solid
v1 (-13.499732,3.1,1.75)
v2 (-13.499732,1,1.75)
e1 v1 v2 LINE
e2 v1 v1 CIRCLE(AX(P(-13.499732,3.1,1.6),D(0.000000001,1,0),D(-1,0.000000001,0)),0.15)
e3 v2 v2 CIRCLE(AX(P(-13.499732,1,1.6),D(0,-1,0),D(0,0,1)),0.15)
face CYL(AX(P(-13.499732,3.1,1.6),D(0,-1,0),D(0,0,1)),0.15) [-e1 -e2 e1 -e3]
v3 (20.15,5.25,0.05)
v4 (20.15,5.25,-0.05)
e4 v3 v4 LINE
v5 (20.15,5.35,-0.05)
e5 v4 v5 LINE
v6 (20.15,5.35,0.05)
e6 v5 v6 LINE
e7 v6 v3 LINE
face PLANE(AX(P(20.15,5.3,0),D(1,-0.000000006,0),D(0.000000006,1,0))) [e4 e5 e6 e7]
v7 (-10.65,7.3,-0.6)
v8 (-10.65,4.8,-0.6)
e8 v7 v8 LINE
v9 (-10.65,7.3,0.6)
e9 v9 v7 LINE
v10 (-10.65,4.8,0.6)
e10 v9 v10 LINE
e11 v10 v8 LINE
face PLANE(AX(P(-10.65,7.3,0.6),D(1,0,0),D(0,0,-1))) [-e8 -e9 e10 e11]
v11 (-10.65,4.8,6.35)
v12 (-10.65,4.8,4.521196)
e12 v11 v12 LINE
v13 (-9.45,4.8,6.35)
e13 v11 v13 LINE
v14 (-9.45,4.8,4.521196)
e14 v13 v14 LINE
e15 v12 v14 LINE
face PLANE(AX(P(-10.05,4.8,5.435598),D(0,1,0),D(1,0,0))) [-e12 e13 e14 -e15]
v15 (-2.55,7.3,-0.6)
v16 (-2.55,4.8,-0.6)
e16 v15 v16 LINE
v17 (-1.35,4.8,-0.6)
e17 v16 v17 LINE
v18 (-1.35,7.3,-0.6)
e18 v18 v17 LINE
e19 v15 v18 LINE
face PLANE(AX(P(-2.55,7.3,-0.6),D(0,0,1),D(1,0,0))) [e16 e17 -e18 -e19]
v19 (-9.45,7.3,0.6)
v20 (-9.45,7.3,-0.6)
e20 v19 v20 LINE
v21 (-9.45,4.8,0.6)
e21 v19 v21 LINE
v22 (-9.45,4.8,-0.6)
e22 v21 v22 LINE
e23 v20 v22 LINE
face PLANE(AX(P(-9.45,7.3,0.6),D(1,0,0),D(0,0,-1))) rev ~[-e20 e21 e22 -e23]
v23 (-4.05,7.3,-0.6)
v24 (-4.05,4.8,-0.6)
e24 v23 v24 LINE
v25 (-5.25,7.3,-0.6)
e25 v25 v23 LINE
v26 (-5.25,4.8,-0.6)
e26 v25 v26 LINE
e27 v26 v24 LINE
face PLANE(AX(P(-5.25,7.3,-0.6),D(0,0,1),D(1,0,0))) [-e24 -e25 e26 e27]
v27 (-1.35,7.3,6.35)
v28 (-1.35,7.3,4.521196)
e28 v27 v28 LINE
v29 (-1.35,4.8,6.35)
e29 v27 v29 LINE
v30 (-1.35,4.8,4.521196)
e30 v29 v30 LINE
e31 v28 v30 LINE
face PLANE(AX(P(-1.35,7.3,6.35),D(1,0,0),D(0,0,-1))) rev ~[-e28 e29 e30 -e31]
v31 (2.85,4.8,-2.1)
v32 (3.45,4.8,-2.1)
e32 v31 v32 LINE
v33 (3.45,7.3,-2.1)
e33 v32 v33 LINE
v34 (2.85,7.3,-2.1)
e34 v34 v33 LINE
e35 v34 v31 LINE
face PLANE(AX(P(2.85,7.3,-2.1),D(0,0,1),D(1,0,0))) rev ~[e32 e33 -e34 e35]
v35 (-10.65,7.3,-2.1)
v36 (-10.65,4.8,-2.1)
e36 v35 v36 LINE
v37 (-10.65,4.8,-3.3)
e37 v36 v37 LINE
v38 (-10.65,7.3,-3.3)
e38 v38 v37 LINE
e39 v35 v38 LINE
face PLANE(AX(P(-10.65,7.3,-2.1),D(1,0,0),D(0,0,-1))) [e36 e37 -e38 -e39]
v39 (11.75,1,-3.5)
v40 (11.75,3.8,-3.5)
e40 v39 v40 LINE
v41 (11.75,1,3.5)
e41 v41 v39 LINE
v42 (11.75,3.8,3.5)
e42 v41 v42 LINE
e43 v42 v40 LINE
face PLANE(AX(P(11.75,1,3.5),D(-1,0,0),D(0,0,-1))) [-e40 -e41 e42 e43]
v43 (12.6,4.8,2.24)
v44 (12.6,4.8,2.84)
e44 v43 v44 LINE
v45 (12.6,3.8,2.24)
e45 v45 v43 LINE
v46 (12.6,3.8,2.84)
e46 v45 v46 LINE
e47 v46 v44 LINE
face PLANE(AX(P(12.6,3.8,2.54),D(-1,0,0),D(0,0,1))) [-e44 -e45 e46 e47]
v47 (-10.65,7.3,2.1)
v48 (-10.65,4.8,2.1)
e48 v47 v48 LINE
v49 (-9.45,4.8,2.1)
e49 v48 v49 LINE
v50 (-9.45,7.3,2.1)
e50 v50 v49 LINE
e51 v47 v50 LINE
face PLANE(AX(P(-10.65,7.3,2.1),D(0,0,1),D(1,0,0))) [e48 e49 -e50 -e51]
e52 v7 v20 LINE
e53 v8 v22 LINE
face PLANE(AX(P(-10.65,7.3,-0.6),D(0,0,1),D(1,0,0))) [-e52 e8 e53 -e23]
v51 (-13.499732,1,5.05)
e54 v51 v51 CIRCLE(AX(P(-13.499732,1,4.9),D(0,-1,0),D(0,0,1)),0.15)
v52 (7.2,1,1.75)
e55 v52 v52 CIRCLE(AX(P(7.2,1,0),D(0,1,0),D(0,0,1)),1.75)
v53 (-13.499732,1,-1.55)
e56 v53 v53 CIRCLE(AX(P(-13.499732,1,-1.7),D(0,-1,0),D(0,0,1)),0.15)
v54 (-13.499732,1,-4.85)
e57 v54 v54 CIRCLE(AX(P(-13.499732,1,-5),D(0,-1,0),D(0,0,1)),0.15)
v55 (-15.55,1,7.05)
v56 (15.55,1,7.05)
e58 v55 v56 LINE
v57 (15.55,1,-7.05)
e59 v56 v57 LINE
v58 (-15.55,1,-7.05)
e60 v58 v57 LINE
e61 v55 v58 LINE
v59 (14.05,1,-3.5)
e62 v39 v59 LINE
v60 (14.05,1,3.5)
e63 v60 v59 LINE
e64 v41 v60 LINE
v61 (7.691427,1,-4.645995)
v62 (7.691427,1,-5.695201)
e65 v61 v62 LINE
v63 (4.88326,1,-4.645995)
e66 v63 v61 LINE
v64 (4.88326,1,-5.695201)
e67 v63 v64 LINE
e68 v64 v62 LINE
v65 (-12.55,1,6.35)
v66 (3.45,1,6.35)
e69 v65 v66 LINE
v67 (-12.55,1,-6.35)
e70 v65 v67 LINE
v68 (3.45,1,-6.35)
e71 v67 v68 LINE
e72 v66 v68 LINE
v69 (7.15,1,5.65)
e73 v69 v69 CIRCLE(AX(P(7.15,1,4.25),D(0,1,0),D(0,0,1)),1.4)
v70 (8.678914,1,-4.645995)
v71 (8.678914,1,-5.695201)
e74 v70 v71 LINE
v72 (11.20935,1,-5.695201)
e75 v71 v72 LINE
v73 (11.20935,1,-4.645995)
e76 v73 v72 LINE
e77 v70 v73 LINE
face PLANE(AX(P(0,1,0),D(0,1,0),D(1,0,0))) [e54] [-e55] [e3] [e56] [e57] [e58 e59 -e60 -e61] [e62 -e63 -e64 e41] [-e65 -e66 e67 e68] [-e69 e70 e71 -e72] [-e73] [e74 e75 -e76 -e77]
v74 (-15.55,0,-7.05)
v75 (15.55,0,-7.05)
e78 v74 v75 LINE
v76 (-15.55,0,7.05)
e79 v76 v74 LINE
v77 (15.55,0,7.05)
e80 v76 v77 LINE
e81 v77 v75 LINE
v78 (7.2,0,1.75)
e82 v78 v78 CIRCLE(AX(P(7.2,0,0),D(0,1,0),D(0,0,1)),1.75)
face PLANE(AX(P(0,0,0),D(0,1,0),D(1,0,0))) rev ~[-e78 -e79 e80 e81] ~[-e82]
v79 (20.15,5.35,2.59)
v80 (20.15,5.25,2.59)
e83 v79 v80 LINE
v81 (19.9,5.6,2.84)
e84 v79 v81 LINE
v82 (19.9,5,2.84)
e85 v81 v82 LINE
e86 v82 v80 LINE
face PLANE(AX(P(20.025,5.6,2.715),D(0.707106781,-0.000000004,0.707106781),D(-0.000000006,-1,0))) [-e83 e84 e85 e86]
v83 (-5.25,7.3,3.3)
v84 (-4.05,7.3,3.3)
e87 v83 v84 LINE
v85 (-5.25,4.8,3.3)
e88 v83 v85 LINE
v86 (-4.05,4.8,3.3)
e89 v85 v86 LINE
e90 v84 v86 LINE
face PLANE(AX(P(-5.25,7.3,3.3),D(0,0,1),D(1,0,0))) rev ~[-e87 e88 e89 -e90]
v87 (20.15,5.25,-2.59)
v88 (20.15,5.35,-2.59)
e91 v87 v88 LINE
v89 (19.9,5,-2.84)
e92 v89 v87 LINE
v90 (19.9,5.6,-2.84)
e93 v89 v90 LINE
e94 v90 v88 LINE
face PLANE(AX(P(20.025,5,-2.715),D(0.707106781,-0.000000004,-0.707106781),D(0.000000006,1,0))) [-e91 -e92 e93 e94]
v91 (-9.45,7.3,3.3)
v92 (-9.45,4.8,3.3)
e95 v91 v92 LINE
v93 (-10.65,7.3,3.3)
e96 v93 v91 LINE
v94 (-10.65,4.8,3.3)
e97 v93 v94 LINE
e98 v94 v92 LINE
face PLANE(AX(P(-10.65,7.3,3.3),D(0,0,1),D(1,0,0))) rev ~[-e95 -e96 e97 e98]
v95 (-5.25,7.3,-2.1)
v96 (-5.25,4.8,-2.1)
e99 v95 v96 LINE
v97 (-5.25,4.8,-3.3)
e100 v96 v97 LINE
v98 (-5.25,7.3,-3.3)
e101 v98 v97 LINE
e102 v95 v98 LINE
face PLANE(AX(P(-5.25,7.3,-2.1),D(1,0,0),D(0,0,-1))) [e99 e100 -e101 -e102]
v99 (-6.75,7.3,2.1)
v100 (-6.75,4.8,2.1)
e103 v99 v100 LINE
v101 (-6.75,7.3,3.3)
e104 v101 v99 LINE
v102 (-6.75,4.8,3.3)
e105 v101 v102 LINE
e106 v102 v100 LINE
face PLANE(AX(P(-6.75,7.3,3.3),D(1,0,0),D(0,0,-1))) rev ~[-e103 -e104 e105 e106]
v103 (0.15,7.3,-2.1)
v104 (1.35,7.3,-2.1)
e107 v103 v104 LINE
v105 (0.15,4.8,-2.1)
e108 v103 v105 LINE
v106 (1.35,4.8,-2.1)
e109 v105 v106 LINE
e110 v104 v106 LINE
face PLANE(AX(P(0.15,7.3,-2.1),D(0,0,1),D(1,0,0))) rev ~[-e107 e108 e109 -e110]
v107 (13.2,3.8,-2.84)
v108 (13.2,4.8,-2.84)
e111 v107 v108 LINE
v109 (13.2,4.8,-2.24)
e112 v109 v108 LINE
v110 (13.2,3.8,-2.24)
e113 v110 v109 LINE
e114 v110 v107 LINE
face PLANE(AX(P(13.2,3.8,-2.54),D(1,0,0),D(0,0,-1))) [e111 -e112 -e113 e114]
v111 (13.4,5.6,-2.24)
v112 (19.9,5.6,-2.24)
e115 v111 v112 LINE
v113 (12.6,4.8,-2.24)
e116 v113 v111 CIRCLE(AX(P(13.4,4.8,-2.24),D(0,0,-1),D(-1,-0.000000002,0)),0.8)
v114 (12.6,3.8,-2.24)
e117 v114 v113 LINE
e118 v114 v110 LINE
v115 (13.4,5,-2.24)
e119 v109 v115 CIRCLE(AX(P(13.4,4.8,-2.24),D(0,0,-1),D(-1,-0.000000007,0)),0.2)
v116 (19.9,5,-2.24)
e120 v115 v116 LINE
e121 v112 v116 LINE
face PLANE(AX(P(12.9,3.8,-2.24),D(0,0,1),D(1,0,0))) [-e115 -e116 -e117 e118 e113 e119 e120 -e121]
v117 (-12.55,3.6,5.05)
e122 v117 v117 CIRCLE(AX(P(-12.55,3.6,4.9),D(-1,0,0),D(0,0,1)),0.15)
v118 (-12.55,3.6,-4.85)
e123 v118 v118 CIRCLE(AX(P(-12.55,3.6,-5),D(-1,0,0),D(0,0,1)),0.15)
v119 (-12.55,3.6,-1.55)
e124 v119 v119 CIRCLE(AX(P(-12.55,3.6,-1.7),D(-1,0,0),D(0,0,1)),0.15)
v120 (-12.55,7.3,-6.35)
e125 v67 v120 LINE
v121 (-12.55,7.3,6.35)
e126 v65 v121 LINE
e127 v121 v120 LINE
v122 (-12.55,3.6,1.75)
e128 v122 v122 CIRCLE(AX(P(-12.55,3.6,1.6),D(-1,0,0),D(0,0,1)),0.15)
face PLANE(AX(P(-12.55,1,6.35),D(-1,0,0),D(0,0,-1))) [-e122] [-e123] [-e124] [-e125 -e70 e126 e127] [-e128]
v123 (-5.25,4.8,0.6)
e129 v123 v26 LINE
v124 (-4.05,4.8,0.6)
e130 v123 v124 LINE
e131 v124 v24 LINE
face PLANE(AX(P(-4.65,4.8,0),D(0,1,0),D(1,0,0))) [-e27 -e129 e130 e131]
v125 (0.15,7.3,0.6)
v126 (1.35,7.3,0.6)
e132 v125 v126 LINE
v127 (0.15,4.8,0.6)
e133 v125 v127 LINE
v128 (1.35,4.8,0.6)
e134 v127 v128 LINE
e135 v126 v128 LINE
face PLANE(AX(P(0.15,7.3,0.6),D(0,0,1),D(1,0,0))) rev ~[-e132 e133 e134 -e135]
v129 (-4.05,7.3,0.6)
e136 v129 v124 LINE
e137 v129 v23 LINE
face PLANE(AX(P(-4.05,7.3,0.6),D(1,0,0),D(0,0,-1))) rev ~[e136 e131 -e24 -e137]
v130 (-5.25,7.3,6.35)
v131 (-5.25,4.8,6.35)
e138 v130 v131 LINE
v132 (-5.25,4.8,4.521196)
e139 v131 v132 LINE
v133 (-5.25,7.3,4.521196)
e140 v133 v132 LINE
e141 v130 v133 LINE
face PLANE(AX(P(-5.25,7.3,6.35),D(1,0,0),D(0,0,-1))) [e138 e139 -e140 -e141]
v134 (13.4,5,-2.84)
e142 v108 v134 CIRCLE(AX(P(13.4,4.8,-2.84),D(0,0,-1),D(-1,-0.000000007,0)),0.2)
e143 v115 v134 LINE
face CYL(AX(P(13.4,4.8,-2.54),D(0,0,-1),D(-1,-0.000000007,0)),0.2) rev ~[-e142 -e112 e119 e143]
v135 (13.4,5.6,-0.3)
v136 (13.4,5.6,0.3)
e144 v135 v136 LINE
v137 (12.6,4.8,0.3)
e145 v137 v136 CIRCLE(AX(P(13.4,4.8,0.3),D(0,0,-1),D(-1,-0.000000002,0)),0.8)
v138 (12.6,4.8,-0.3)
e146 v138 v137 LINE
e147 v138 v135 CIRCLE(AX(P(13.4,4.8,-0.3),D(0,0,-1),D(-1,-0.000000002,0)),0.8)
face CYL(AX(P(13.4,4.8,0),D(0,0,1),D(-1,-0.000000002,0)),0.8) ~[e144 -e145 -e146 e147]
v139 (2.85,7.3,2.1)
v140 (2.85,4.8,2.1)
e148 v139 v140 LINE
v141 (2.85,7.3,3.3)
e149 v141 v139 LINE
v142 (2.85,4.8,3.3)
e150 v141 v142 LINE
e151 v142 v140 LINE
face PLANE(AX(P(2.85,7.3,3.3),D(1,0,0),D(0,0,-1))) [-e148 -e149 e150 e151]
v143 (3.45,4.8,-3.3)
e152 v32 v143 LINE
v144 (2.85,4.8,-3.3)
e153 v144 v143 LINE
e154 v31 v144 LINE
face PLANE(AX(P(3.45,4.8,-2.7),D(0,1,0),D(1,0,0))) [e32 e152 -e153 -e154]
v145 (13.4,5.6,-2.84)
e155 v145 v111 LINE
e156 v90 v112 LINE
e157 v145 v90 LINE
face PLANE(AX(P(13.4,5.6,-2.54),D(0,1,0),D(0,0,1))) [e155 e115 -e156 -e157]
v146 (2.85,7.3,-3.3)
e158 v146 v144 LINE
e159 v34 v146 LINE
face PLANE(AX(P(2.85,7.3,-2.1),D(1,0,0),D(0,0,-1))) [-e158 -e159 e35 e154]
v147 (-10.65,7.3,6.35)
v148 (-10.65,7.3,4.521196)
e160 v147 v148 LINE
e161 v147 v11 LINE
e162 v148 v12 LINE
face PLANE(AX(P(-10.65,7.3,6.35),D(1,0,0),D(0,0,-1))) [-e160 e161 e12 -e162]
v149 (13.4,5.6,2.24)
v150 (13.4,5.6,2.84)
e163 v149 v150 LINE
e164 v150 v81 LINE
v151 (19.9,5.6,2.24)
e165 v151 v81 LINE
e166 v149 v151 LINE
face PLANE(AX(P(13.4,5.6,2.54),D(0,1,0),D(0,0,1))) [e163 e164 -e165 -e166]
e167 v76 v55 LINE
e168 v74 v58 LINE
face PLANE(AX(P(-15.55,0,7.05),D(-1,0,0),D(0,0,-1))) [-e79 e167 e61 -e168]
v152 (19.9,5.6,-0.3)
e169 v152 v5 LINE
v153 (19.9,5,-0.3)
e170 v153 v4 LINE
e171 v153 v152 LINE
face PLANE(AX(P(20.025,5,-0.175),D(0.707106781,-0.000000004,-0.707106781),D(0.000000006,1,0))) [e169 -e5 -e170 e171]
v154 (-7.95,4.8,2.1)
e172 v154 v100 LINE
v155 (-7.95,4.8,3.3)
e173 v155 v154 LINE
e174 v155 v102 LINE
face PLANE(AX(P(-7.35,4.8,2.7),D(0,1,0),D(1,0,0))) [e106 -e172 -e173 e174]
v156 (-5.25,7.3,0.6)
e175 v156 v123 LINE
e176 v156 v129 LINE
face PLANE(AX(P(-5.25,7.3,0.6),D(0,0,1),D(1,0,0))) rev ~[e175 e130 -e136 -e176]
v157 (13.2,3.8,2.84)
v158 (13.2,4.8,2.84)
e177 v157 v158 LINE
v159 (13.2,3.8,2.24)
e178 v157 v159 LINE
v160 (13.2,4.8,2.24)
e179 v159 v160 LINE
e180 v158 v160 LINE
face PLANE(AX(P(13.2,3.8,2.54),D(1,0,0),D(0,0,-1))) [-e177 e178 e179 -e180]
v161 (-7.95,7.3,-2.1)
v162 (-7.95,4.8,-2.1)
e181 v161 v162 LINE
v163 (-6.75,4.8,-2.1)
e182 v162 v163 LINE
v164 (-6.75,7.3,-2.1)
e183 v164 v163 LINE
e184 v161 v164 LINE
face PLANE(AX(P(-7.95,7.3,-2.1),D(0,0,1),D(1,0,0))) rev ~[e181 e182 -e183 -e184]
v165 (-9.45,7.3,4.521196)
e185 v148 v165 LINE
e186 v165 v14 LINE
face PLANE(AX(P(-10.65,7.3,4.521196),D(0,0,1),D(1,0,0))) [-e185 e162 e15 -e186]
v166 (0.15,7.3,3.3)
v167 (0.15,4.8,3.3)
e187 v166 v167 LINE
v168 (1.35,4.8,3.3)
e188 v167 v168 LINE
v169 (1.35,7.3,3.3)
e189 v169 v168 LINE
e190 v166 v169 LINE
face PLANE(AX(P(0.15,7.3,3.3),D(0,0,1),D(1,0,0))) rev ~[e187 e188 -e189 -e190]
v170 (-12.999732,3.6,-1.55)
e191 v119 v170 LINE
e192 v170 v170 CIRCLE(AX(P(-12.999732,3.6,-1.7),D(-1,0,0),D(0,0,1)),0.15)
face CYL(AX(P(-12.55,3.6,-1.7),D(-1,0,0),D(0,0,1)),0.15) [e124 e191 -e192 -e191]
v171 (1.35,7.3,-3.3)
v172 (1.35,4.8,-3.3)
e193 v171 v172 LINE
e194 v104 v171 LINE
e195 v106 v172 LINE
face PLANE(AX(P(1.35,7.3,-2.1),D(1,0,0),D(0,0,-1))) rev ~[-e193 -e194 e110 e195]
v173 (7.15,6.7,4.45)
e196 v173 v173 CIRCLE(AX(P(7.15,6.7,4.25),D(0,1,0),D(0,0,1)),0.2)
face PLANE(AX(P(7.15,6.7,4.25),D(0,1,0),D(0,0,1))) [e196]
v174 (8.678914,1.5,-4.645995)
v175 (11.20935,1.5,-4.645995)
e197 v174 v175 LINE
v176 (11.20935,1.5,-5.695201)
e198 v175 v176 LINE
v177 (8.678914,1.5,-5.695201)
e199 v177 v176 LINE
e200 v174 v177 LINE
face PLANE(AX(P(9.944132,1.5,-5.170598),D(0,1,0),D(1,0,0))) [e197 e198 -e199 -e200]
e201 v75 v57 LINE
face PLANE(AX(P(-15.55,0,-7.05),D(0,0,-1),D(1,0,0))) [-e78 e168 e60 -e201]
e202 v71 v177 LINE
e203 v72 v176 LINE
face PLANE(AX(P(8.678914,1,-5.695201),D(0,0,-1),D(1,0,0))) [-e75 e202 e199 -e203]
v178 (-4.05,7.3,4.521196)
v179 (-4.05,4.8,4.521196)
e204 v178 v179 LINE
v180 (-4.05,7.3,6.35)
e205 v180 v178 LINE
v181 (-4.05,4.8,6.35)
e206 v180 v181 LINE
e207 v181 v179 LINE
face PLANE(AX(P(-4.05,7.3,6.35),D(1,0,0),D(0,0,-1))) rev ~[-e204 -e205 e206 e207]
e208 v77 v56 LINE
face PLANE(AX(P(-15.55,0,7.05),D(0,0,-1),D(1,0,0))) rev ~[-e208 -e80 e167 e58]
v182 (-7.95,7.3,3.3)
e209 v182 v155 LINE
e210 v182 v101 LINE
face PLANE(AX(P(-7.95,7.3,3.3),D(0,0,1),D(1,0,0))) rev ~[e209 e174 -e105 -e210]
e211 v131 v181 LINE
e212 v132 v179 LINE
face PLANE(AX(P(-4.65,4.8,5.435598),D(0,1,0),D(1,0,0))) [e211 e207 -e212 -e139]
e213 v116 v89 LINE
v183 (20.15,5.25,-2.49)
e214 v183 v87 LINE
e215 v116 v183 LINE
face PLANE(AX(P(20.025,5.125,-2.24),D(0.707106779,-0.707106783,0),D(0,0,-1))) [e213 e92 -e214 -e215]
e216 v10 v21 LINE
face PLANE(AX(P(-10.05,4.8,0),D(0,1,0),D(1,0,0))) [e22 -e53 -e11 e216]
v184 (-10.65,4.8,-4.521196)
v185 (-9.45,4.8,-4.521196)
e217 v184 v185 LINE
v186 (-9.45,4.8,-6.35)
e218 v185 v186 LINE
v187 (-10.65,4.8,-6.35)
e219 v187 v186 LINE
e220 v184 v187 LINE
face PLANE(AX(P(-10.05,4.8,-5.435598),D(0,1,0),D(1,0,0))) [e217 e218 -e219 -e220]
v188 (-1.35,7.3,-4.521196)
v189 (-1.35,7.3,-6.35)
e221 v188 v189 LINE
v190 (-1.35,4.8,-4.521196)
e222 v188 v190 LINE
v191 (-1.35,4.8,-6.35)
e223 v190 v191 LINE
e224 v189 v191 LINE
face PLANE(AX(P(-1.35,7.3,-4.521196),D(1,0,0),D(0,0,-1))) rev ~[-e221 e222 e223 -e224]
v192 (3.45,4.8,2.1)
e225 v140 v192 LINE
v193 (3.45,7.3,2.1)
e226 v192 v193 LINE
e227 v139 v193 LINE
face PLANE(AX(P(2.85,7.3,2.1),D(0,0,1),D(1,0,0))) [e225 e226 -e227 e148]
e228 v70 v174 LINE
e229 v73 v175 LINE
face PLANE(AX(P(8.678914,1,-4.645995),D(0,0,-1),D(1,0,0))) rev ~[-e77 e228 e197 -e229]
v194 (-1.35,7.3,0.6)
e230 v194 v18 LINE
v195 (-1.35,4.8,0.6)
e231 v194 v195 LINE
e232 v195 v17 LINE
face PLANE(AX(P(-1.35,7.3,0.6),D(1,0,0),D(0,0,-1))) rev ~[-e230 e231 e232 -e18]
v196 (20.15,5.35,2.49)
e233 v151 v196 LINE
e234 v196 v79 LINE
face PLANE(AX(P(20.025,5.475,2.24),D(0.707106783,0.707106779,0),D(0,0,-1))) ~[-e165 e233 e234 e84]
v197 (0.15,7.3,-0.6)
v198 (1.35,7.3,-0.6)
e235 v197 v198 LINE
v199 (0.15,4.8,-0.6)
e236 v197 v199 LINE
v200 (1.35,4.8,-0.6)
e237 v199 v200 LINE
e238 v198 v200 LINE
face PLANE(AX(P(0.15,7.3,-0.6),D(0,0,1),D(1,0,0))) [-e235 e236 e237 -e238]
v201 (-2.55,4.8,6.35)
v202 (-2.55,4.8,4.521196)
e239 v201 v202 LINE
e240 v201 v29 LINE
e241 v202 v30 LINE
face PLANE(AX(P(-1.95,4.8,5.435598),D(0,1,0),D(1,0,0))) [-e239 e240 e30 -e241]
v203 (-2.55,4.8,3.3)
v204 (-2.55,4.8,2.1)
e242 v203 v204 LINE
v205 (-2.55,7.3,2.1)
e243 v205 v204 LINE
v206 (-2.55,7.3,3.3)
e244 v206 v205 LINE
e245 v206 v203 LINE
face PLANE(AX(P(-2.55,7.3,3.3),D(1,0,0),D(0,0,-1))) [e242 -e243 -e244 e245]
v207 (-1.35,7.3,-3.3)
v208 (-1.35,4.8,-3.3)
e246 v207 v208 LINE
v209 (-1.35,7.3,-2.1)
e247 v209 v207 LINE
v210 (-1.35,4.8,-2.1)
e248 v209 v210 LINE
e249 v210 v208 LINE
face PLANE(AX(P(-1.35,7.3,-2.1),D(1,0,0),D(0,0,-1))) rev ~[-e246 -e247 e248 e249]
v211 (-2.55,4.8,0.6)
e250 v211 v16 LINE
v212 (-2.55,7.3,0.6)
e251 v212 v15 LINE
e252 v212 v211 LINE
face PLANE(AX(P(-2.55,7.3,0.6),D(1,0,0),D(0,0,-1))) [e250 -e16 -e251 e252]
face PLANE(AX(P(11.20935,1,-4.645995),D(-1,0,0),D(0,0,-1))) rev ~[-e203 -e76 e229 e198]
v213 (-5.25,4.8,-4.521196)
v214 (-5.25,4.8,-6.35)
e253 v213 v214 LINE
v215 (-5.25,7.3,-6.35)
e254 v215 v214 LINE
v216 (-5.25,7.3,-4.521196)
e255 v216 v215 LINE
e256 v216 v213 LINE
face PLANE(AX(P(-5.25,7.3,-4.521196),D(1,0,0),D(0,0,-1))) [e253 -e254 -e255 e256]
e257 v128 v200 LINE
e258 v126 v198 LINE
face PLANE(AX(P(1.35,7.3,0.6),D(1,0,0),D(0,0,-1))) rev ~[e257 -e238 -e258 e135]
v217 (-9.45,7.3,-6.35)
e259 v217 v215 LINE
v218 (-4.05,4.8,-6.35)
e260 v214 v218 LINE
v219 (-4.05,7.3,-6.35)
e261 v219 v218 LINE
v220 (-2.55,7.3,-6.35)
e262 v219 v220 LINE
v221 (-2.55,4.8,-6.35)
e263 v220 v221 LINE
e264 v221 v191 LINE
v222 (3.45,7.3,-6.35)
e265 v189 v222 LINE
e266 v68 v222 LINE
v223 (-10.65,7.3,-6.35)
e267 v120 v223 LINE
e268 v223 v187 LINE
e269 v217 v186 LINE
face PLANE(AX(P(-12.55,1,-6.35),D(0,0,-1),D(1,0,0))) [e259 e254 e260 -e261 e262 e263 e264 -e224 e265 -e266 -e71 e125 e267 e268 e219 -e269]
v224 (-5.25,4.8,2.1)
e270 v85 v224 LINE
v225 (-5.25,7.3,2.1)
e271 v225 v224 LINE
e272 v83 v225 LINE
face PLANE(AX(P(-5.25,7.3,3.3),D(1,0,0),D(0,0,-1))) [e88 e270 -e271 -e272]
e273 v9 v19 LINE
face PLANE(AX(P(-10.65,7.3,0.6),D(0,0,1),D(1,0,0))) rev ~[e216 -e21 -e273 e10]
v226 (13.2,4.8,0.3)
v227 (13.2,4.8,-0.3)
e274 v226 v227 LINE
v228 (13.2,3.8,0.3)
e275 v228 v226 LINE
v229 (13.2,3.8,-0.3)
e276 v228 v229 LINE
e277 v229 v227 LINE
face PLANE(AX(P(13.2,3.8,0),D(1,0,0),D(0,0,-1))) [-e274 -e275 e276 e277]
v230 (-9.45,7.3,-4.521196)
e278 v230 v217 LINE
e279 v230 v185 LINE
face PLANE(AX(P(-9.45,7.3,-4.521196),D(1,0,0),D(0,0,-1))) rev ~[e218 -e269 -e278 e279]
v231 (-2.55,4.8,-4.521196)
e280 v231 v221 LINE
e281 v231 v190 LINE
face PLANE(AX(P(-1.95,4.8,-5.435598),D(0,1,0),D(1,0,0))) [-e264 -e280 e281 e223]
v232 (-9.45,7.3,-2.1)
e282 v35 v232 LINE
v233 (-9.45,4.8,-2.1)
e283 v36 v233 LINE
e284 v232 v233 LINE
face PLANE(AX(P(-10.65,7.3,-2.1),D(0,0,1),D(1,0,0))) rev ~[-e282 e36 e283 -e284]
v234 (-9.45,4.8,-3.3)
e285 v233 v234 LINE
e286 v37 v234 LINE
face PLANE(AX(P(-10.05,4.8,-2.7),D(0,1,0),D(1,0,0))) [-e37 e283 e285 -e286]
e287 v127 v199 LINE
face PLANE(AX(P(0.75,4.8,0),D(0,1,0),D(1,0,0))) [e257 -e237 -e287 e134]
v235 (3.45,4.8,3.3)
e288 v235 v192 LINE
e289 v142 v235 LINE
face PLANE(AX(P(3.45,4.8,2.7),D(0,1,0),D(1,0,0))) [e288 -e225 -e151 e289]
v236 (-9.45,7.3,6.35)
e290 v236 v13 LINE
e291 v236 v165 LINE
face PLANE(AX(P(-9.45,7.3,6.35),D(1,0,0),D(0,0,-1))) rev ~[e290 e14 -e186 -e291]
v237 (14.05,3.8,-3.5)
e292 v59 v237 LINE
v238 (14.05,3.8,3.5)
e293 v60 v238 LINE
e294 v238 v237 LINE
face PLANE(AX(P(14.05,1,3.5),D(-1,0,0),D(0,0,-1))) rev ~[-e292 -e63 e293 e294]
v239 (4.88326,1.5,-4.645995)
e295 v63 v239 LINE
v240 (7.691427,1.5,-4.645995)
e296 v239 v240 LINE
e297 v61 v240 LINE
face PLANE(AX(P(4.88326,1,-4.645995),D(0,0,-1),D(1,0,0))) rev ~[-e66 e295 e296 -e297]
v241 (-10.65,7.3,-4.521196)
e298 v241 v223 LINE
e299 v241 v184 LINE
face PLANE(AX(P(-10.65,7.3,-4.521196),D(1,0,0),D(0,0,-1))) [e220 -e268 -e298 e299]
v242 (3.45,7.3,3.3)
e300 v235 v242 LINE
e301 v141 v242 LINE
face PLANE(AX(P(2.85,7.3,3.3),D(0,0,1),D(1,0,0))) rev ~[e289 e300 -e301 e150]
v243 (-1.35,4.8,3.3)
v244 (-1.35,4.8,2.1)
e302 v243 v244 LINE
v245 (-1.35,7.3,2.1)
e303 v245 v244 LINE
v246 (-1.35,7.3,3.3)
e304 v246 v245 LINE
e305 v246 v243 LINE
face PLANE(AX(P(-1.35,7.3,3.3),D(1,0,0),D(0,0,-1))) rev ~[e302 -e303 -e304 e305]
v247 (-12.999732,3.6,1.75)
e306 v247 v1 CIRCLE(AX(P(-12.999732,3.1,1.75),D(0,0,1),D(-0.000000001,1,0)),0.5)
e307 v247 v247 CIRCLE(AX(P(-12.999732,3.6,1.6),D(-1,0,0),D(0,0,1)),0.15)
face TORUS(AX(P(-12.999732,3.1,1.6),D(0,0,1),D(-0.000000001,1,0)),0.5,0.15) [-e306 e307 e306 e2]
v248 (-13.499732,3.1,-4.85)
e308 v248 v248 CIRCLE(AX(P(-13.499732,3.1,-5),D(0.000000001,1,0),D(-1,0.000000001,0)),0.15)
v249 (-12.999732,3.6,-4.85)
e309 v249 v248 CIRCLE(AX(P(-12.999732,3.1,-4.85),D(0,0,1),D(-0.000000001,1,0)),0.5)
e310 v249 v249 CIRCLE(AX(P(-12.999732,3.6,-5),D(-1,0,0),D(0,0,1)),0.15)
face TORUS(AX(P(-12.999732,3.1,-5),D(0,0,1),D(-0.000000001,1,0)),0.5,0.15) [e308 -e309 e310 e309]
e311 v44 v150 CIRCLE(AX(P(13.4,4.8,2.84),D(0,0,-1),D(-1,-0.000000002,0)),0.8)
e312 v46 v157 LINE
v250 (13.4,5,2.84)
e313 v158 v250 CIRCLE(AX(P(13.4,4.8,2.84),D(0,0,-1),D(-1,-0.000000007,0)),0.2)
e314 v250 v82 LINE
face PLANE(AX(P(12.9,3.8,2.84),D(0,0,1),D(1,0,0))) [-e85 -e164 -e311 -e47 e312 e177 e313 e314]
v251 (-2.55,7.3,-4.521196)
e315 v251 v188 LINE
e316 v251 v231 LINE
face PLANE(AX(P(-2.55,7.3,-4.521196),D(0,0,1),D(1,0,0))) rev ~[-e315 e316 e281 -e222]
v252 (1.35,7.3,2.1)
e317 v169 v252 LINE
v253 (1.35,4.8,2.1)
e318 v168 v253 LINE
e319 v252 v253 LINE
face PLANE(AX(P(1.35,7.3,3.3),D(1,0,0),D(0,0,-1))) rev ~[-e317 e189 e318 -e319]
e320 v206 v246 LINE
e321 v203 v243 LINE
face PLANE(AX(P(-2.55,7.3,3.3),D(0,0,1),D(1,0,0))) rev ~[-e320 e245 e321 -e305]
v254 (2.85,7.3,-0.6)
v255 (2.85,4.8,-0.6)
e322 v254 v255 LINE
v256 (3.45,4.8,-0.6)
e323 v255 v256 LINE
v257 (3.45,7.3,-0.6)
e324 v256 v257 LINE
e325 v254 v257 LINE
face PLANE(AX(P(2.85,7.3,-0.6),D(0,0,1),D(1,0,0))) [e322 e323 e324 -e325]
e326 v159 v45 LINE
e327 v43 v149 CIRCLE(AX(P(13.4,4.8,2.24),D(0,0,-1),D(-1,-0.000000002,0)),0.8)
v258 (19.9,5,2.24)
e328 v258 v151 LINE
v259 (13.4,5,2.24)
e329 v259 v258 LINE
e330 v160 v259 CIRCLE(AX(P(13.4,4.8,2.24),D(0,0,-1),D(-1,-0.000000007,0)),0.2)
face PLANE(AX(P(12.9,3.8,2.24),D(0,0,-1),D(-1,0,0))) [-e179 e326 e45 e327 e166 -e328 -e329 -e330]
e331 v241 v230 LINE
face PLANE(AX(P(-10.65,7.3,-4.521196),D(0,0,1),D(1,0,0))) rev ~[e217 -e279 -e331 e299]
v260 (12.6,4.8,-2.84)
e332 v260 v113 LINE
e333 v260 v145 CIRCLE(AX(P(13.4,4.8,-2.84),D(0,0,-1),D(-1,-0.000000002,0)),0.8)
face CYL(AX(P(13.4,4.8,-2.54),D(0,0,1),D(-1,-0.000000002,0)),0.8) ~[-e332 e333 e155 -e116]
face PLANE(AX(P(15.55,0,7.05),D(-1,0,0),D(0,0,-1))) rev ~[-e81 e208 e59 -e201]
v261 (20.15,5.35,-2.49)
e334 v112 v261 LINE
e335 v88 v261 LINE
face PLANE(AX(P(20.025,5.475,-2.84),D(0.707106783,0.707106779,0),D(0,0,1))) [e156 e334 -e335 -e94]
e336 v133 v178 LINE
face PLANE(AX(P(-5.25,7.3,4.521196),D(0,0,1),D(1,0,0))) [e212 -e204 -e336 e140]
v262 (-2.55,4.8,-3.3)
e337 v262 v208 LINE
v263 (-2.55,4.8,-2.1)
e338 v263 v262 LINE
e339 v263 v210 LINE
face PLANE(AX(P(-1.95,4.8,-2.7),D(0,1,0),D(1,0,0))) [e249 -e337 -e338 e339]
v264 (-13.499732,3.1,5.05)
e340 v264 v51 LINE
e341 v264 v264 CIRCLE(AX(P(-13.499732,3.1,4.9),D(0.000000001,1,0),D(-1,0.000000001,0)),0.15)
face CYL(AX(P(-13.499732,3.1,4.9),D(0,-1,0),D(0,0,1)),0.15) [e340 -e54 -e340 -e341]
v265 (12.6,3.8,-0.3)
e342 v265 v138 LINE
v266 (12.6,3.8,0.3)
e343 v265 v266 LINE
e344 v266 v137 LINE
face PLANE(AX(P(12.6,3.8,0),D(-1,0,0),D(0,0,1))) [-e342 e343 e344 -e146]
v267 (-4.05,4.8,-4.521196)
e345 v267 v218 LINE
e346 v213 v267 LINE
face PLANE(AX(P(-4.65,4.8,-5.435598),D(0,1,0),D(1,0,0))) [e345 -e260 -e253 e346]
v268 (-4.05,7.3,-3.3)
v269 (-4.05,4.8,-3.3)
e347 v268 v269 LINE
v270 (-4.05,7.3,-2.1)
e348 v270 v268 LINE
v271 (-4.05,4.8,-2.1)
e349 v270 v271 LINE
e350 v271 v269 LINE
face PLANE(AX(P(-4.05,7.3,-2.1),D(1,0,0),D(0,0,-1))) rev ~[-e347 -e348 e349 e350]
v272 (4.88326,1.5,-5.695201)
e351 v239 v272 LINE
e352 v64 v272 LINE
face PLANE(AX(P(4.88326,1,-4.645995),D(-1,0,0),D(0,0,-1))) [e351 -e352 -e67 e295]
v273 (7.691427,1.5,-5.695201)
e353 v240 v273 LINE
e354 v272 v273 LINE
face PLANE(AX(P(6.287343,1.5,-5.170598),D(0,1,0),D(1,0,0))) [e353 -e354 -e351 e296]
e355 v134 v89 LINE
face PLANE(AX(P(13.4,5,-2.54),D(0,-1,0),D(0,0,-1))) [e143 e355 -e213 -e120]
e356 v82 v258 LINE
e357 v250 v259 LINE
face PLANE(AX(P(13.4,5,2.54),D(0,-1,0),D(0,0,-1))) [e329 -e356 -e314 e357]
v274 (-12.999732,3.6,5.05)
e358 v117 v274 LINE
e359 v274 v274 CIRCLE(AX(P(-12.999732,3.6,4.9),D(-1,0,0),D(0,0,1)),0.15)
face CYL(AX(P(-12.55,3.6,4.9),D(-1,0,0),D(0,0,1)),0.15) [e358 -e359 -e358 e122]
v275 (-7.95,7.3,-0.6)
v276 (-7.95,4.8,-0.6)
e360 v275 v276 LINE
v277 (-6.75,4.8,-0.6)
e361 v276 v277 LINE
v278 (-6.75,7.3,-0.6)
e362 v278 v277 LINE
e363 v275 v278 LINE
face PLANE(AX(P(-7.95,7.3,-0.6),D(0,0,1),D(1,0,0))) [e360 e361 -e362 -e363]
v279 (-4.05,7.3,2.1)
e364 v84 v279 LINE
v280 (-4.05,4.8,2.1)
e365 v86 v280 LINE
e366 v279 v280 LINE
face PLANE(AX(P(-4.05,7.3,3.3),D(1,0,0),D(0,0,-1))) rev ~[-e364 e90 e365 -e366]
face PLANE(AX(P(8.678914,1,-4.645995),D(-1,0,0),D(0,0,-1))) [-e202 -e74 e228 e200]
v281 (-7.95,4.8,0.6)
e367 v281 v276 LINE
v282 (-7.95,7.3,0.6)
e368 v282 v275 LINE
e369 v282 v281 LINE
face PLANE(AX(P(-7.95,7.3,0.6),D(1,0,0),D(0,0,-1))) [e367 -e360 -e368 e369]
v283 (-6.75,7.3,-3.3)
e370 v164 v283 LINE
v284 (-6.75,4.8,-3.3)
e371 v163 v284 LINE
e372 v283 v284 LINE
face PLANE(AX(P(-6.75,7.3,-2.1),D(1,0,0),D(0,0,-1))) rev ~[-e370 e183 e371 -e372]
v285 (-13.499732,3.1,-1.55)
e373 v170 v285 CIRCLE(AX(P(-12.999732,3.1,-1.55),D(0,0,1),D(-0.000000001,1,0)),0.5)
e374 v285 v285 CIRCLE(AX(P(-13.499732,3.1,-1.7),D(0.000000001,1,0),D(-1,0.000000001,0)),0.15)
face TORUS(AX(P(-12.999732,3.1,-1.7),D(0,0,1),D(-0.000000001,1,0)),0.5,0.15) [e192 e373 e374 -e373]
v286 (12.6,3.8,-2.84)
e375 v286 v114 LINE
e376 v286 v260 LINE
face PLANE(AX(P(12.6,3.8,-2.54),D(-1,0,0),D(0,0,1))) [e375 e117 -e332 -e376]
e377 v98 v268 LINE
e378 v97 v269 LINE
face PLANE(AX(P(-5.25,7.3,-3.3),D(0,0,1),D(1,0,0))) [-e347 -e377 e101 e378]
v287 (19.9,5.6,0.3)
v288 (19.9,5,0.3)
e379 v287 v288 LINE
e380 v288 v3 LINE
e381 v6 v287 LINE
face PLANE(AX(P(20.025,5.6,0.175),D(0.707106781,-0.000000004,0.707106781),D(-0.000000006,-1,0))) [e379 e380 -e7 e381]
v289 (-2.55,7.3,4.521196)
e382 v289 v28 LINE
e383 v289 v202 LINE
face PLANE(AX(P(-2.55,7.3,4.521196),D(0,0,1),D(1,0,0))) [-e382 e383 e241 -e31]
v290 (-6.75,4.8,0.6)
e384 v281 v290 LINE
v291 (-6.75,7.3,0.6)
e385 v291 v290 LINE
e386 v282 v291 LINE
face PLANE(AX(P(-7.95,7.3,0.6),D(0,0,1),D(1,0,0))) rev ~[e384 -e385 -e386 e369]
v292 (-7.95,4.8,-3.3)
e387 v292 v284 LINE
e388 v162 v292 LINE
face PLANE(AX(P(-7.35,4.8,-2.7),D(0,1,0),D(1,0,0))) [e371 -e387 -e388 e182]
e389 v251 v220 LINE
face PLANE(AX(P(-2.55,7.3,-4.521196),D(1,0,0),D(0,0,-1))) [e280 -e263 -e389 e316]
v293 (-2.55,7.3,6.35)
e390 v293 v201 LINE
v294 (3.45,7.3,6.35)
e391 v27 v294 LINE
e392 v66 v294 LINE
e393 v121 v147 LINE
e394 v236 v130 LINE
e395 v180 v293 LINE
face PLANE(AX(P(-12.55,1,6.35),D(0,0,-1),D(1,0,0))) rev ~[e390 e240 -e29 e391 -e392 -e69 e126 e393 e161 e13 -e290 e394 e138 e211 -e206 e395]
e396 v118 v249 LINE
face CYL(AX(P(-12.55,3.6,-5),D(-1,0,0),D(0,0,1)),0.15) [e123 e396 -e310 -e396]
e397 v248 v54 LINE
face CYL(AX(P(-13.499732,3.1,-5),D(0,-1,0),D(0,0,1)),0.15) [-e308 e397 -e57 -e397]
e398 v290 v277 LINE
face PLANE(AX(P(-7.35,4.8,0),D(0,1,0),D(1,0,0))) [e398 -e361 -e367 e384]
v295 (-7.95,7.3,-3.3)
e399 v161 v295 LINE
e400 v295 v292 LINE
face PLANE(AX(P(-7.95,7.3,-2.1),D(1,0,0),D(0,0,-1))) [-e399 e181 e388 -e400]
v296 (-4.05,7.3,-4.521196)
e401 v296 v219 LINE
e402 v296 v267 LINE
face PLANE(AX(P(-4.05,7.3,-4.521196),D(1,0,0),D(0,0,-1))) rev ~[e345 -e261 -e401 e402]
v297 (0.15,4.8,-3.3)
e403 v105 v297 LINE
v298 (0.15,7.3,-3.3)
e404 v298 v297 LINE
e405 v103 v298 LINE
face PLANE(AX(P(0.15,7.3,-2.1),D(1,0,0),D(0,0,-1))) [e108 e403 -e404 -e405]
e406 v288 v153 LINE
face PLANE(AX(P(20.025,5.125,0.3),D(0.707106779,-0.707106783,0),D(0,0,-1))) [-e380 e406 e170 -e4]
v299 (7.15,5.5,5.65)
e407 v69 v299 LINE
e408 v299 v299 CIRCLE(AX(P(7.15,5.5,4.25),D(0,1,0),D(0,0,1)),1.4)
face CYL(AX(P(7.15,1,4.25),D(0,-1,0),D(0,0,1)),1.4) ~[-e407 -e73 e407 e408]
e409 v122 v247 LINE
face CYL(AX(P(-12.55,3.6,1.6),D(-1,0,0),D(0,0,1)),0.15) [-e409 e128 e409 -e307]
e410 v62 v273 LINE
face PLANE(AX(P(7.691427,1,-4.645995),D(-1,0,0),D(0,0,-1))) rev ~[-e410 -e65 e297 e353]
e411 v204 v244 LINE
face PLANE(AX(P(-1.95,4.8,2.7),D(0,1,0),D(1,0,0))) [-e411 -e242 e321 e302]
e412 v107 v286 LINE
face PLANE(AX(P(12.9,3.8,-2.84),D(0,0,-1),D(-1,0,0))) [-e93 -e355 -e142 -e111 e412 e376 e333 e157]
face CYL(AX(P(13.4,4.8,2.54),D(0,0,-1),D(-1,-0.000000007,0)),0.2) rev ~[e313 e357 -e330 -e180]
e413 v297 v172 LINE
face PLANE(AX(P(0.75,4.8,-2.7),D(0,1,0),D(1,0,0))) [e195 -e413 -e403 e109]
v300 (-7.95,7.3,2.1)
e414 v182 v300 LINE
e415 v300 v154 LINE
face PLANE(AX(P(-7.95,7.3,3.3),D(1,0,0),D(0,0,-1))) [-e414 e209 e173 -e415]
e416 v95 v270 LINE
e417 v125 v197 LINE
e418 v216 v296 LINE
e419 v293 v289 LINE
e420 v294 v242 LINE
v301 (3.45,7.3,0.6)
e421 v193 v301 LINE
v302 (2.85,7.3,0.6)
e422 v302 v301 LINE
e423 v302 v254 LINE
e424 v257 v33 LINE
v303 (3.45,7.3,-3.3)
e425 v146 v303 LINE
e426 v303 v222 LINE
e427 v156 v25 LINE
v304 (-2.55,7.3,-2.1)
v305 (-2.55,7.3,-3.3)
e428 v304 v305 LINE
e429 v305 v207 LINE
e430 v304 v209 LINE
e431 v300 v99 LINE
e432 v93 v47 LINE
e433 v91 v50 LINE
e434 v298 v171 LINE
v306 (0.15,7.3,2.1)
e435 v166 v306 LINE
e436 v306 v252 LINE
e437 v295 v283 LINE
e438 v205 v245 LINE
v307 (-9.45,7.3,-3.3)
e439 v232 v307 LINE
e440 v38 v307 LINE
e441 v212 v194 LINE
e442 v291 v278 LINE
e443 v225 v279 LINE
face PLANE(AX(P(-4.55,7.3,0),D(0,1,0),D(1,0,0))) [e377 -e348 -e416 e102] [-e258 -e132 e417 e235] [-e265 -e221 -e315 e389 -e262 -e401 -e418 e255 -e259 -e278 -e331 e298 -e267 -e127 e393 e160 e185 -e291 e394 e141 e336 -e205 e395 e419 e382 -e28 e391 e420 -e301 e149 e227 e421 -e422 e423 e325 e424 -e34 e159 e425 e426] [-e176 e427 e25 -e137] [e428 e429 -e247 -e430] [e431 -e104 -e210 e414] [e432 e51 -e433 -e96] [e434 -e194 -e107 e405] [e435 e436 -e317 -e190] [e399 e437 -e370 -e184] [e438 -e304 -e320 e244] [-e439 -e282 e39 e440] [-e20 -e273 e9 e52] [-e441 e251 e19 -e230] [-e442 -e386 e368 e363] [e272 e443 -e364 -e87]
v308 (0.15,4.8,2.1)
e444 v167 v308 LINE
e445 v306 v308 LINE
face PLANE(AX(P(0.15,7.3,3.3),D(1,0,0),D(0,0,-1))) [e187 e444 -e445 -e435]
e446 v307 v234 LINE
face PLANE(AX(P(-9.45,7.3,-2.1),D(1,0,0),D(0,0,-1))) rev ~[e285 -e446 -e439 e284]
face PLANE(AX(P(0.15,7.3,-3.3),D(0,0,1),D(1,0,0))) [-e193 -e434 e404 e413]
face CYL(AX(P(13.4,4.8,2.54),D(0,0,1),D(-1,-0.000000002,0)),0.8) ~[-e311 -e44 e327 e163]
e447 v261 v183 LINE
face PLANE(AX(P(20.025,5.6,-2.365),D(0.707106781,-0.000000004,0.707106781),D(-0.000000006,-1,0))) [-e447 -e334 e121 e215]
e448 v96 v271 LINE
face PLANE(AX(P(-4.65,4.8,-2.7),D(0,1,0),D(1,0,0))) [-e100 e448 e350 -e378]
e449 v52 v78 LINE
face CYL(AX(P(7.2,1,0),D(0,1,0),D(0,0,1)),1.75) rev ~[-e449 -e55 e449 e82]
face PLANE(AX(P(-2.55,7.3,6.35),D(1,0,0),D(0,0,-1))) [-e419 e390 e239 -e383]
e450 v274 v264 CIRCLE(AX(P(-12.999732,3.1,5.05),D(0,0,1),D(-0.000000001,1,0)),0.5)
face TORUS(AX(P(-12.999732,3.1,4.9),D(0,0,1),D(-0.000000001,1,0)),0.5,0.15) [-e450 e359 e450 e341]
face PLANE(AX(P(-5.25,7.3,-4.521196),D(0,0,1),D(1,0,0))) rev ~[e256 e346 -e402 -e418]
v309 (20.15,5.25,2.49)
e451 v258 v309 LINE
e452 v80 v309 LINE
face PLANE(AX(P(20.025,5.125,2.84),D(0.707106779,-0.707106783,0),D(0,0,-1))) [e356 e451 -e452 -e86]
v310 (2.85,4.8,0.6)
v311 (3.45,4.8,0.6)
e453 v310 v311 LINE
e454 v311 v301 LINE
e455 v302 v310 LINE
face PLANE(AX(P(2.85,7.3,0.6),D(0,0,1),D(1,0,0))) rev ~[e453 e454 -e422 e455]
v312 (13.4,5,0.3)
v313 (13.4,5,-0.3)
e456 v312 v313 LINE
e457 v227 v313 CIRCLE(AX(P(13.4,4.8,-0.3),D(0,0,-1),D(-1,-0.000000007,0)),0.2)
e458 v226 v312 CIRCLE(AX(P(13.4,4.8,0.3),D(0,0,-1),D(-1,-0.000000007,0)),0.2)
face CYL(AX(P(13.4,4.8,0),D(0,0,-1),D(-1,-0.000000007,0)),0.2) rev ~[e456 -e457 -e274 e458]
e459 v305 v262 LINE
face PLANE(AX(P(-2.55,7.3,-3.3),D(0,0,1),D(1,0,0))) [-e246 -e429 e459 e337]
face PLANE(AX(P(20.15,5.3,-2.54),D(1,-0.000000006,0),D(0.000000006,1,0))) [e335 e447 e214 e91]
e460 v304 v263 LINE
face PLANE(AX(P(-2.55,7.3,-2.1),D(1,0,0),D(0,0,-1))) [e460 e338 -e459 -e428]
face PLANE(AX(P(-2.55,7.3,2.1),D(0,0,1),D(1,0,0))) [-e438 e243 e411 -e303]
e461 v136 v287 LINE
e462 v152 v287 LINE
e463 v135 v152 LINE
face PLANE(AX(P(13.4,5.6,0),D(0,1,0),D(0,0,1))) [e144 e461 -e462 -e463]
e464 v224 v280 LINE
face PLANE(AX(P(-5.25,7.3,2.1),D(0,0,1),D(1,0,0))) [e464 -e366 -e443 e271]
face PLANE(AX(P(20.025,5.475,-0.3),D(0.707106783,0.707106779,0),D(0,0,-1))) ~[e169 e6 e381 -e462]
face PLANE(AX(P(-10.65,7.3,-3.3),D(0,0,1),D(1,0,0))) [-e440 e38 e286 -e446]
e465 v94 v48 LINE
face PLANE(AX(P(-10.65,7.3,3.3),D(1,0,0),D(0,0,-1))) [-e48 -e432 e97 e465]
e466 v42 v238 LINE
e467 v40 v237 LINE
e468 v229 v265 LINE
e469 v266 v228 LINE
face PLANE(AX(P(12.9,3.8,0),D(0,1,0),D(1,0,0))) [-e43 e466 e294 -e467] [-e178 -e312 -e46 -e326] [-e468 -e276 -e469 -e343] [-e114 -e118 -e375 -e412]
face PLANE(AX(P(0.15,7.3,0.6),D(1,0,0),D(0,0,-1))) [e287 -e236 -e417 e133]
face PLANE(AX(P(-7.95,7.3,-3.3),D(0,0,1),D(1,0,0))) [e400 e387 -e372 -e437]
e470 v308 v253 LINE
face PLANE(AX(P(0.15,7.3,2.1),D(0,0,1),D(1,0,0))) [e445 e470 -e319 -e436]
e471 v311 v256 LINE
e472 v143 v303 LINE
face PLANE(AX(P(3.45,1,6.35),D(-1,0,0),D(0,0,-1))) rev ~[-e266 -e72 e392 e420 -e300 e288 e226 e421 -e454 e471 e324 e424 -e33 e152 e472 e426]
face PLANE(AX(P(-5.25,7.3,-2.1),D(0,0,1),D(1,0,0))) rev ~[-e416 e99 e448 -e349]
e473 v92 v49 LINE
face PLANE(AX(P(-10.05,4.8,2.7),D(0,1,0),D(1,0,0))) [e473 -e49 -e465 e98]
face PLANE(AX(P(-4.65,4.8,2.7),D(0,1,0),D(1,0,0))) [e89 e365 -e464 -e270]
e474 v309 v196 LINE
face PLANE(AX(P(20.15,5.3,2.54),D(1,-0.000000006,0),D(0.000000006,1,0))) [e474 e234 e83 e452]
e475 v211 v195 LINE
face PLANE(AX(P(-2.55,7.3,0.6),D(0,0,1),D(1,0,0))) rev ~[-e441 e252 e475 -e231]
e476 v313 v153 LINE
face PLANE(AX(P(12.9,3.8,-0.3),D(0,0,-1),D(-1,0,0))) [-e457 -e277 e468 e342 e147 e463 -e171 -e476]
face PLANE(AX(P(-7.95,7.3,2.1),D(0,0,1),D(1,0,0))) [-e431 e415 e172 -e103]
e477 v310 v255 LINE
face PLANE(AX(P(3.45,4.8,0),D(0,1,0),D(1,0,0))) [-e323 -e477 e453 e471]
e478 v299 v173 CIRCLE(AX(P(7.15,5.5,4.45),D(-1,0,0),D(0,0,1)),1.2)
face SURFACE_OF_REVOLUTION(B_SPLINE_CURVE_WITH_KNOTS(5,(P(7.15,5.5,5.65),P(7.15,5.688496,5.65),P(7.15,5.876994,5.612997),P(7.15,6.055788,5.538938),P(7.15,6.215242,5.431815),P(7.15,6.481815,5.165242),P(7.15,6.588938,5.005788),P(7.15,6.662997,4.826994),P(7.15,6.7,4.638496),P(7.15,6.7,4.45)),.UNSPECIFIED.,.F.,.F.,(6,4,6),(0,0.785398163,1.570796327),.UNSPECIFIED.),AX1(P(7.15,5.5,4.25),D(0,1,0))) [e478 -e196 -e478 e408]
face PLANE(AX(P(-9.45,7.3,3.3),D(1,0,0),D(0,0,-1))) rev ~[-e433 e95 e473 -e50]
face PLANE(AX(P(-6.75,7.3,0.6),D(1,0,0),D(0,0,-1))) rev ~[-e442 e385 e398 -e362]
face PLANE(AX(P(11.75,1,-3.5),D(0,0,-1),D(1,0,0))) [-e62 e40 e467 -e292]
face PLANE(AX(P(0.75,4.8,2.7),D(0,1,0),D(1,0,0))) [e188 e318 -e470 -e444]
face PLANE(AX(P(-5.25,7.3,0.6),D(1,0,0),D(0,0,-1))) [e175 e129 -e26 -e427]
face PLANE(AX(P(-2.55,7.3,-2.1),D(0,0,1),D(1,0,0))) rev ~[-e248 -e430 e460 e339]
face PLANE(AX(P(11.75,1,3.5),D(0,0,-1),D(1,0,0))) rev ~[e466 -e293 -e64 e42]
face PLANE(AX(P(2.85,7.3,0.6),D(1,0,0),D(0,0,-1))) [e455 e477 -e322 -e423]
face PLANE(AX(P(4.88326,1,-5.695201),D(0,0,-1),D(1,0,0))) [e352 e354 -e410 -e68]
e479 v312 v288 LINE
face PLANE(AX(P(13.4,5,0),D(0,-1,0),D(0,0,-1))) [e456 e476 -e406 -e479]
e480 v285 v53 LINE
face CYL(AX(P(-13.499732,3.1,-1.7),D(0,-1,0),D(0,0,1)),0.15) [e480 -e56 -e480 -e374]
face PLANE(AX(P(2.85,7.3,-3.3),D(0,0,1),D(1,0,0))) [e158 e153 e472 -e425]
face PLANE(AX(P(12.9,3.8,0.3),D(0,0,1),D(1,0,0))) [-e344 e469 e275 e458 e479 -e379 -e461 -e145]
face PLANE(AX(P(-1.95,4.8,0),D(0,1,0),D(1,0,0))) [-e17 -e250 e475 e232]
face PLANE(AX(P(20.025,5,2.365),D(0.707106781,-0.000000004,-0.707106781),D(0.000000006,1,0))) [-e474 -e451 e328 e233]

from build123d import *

# Parameters (mm, degrees)
SKETCH_1_W             = 31.1
SKETCH_1_H             = 14.1
EXTRUDE_1_DEPTH        = 1
SKETCH_2_W             = 16
SKETCH_2_H             = 12.7
EXTRUDE_2_DEPTH        = 6.3
SKETCH_3_R             = 1.75
CUT_EXTRUDE_1_DEPTH    = 19.198763694
SKETCH_4_R             = 1.4
EXTRUDE_3_DEPTH        = 5.7
FILLET_1_R             = 1.2
SKETCH_5_W             = 2.3
SKETCH_5_H             = 7
EXTRUDE_4_DEPTH        = 2.8
SKETCH_6_W             = 0.6
SKETCH_6_H             = 0.6
PATTERN_LINEAR_1_COUNT = 2
PATTERN_LINEAR_1_PITCH = 2.54
PATTERN_LINEAR_2_COUNT = 2
PATTERN_LINEAR_2_PITCH = 2.54
CHAMFER_1_SIZE         = 0.25
SKETCH_7_W             = 2.808166855
SKETCH_7_H             = 1.049205199
SKETCH_7_W_2           = 2.530436068
EXTRUDE_5_DEPTH        = 0.5
SKETCH_8_R             = 0.15
PATTERN_LINEAR_3_COUNT = 4
PATTERN_LINEAR_3_PITCH = 3.3
SKETCH_9_W             = 1.2
SKETCH_9_H             = 1.2
SKETCH_9_H_2           = 1.828804168
CUT_EXTRUDE_2_DEPTH    = 2.5


with BuildPart() as part:
    # Эскиз1 → Бобышка-Вытянуть1 (new body)
    with BuildSketch(Plane(origin=(0, 0, 0), x_dir=(1, 0, 0), z_dir=(0, 1, 0))):
        Rectangle(SKETCH_1_W, SKETCH_1_H)
    extrude(amount=EXTRUDE_1_DEPTH)

    # Эскиз2 → Бобышка-Вытянуть2 (add)
    with BuildSketch(Plane(origin=(0, 1, 0), x_dir=(1, 0, 0), z_dir=(0, 1, 0))):
        with Locations((-4.55, 0)):
            Rectangle(SKETCH_2_W, SKETCH_2_H)
    extrude(amount=EXTRUDE_2_DEPTH)

    # Эскиз3 → Вырез-Вытянуть1 (cut, through all)
    with BuildSketch(Plane(origin=(0, 1, 0), x_dir=(1, 0, 0), z_dir=(0, 1, 0))):
        with Locations(Location((7.2, 0, 0), (0, 0, 270))):
            Circle(SKETCH_3_R)
    extrude(amount=-CUT_EXTRUDE_1_DEPTH, mode=Mode.SUBTRACT)

    # Эскиз4 → Бобышка-Вытянуть3 (add)
    with BuildSketch(Plane(origin=(0, 1, 0), x_dir=(1, 0, 0), z_dir=(0, 1, 0))):
        with Locations(Location((7.15, -4.25, 0), (0, 0, 270))):
            Circle(SKETCH_4_R)
    extrude(amount=EXTRUDE_3_DEPTH)

    # Скругление1
    fillet_1_edges = [part.edges().sort_by_distance(p)[0] for p in [
        (7.15, 6.7, 2.85),
    ]]
    fillet(fillet_1_edges, radius=FILLET_1_R)

    # Эскиз5 → Бобышка-Вытянуть4 (add)
    with BuildSketch(Plane(origin=(0, 1, 0), x_dir=(1, 0, 0), z_dir=(0, 1, 0))):
        with Locations((12.9, 0)):
            Rectangle(SKETCH_5_W, SKETCH_5_H)
    extrude(amount=EXTRUDE_4_DEPTH)

    # По траектории1: sweep along a curve in space
    with BuildLine() as sweep_1_path:
        Line((12.9, 3.8, 0), (12.9, 4.8, 0))
        ThreePointArc((12.9, 4.8, 0), (13.046446609, 5.153553391, 0), (13.4, 5.3, 0))
        Line((13.4, 5.3, 0), (20.15, 5.3, 0))
    # Эскиз6 → По траектории1 (sweep)
    with BuildSketch(Plane(origin=(0, 3.8, 0), x_dir=(1, 0, 0), z_dir=(0, 1, 0))):
        with Locations((12.9, 0)):
            Rectangle(SKETCH_6_W, SKETCH_6_H)
    sweep_1 = sweep(path=sweep_1_path.line)

    # Линейный массив1: По траектории1 ×2
    with Locations(*[(0, 0, i * PATTERN_LINEAR_1_PITCH) for i in range(1, PATTERN_LINEAR_1_COUNT)]):
        add(sweep_1)

    # Линейный массив2: По траектории1 ×2
    with Locations(*[(0, 0, -i * PATTERN_LINEAR_2_PITCH) for i in range(1, PATTERN_LINEAR_2_COUNT)]):
        add(sweep_1)

    # Фаска1
    chamfer_1_edges = [part.edges().sort_by_distance(p)[0] for p in [
        (20.15, 5.3, -2.24),
        (20.15, 5, 0),
        (20.15, 5.3, -0.3),
        (20.15, 5.6, 0),
        (20.15, 5.3, 0.3),
        (20.15, 5, 2.54),
        (20.15, 5.3, 2.24),
        (20.15, 5.6, 2.54),
        (20.15, 5.3, 2.84),
        (20.15, 5, -2.54),
        (20.15, 5.3, -2.84),
        (20.15, 5.6, -2.54),
    ]]
    chamfer(chamfer_1_edges, length=CHAMFER_1_SIZE)

    # Эскиз7 → Бобышка-Вытянуть5 (add)
    with BuildSketch(Plane(origin=(0, 1, 0), x_dir=(1, 0, 0), z_dir=(0, 1, 0))):
        with Locations((6.287343289, 5.170597973)):
            Rectangle(SKETCH_7_W, SKETCH_7_H)
        with Locations((9.944131996, 5.170597973)):
            Rectangle(SKETCH_7_W_2, SKETCH_7_H)
    extrude(amount=EXTRUDE_5_DEPTH)

    # По траектории2: sweep along a curve in space
    with BuildLine() as sweep_2_path:
        Line((-12.55, 3.6, -5), (-12.999732268, 3.6, -5))
        ThreePointArc((-12.999732268, 3.6, -5), (-13.353285658, 3.453553391, -5), (-13.499732268, 3.1, -5))
        Line((-13.499732268, 3.1, -5), (-13.499732268, 1, -5))
    # Эскиз8 → По траектории2 (sweep)
    with BuildSketch(Plane.ZY.offset(12.55)):
        with Locations((-5, 3.6)):
            Circle(SKETCH_8_R)
    sweep_2 = sweep(path=sweep_2_path.line)

    # Линейный массив3: По траектории2 ×4
    with Locations(*[(0, 0, i * PATTERN_LINEAR_3_PITCH) for i in range(1, PATTERN_LINEAR_3_COUNT)]):
        add(sweep_2)

    # Эскиз9 → Вырез-Вытянуть2 (cut)
    with BuildSketch(Plane(origin=(0, 7.3, 0), x_dir=(1, 0, 0), z_dir=(0, 1, 0))):
        with Locations((3.45, 0)):
            Rectangle(SKETCH_9_W, SKETCH_9_H)
        with Locations((0.75, 0)):
            Rectangle(SKETCH_9_W, SKETCH_9_H)
        with Locations((-1.95, 0)):
            Rectangle(SKETCH_9_W, SKETCH_9_H)
        with Locations((-4.65, 0)):
            Rectangle(SKETCH_9_W, SKETCH_9_H)
        with Locations((-7.35, 0)):
            Rectangle(SKETCH_9_W, SKETCH_9_H)
        with Locations((-10.05, 0)):
            Rectangle(SKETCH_9_W, SKETCH_9_H)
        with Locations((3.45, 2.7)):
            Rectangle(SKETCH_9_W, SKETCH_9_H)
        with Locations((0.75, 2.7)):
            Rectangle(SKETCH_9_W, SKETCH_9_H)
        with Locations((-1.95, 2.7)):
            Rectangle(SKETCH_9_W, SKETCH_9_H)
        with Locations((-4.65, 2.7)):
            Rectangle(SKETCH_9_W, SKETCH_9_H)
        with Locations((-7.35, 2.7)):
            Rectangle(SKETCH_9_W, SKETCH_9_H)
        with Locations((-10.05, 2.7)):
            Rectangle(SKETCH_9_W, SKETCH_9_H)
        with Locations((3.45, -2.7)):
            Rectangle(SKETCH_9_W, SKETCH_9_H)
        with Locations((0.75, -2.7)):
            Rectangle(SKETCH_9_W, SKETCH_9_H)
        with Locations((-1.95, -2.7)):
            Rectangle(SKETCH_9_W, SKETCH_9_H)
        with Locations((-4.65, -2.7)):
            Rectangle(SKETCH_9_W, SKETCH_9_H)
        with Locations((-7.35, -2.7)):
            Rectangle(SKETCH_9_W, SKETCH_9_H)
        with Locations((-10.05, -2.7)):
            Rectangle(SKETCH_9_W, SKETCH_9_H)
        with Locations((-10.05, 5.435597916)):
            Rectangle(SKETCH_9_W, SKETCH_9_H_2)
        with Locations((-4.65, 5.435597916)):
            Rectangle(SKETCH_9_W, SKETCH_9_H_2)
        with Locations((-1.95, 5.435597916)):
            Rectangle(SKETCH_9_W, SKETCH_9_H_2)
        with Locations((-1.95, -5.435597916)):
            Rectangle(SKETCH_9_W, SKETCH_9_H_2)
        with Locations((-4.65, -5.435597916)):
            Rectangle(SKETCH_9_W, SKETCH_9_H_2)
        with Locations((-10.05, -5.435597916)):
            Rectangle(SKETCH_9_W, SKETCH_9_H_2)
    extrude(amount=-CUT_EXTRUDE_2_DEPTH, mode=Mode.SUBTRACT)


solid = part.part
